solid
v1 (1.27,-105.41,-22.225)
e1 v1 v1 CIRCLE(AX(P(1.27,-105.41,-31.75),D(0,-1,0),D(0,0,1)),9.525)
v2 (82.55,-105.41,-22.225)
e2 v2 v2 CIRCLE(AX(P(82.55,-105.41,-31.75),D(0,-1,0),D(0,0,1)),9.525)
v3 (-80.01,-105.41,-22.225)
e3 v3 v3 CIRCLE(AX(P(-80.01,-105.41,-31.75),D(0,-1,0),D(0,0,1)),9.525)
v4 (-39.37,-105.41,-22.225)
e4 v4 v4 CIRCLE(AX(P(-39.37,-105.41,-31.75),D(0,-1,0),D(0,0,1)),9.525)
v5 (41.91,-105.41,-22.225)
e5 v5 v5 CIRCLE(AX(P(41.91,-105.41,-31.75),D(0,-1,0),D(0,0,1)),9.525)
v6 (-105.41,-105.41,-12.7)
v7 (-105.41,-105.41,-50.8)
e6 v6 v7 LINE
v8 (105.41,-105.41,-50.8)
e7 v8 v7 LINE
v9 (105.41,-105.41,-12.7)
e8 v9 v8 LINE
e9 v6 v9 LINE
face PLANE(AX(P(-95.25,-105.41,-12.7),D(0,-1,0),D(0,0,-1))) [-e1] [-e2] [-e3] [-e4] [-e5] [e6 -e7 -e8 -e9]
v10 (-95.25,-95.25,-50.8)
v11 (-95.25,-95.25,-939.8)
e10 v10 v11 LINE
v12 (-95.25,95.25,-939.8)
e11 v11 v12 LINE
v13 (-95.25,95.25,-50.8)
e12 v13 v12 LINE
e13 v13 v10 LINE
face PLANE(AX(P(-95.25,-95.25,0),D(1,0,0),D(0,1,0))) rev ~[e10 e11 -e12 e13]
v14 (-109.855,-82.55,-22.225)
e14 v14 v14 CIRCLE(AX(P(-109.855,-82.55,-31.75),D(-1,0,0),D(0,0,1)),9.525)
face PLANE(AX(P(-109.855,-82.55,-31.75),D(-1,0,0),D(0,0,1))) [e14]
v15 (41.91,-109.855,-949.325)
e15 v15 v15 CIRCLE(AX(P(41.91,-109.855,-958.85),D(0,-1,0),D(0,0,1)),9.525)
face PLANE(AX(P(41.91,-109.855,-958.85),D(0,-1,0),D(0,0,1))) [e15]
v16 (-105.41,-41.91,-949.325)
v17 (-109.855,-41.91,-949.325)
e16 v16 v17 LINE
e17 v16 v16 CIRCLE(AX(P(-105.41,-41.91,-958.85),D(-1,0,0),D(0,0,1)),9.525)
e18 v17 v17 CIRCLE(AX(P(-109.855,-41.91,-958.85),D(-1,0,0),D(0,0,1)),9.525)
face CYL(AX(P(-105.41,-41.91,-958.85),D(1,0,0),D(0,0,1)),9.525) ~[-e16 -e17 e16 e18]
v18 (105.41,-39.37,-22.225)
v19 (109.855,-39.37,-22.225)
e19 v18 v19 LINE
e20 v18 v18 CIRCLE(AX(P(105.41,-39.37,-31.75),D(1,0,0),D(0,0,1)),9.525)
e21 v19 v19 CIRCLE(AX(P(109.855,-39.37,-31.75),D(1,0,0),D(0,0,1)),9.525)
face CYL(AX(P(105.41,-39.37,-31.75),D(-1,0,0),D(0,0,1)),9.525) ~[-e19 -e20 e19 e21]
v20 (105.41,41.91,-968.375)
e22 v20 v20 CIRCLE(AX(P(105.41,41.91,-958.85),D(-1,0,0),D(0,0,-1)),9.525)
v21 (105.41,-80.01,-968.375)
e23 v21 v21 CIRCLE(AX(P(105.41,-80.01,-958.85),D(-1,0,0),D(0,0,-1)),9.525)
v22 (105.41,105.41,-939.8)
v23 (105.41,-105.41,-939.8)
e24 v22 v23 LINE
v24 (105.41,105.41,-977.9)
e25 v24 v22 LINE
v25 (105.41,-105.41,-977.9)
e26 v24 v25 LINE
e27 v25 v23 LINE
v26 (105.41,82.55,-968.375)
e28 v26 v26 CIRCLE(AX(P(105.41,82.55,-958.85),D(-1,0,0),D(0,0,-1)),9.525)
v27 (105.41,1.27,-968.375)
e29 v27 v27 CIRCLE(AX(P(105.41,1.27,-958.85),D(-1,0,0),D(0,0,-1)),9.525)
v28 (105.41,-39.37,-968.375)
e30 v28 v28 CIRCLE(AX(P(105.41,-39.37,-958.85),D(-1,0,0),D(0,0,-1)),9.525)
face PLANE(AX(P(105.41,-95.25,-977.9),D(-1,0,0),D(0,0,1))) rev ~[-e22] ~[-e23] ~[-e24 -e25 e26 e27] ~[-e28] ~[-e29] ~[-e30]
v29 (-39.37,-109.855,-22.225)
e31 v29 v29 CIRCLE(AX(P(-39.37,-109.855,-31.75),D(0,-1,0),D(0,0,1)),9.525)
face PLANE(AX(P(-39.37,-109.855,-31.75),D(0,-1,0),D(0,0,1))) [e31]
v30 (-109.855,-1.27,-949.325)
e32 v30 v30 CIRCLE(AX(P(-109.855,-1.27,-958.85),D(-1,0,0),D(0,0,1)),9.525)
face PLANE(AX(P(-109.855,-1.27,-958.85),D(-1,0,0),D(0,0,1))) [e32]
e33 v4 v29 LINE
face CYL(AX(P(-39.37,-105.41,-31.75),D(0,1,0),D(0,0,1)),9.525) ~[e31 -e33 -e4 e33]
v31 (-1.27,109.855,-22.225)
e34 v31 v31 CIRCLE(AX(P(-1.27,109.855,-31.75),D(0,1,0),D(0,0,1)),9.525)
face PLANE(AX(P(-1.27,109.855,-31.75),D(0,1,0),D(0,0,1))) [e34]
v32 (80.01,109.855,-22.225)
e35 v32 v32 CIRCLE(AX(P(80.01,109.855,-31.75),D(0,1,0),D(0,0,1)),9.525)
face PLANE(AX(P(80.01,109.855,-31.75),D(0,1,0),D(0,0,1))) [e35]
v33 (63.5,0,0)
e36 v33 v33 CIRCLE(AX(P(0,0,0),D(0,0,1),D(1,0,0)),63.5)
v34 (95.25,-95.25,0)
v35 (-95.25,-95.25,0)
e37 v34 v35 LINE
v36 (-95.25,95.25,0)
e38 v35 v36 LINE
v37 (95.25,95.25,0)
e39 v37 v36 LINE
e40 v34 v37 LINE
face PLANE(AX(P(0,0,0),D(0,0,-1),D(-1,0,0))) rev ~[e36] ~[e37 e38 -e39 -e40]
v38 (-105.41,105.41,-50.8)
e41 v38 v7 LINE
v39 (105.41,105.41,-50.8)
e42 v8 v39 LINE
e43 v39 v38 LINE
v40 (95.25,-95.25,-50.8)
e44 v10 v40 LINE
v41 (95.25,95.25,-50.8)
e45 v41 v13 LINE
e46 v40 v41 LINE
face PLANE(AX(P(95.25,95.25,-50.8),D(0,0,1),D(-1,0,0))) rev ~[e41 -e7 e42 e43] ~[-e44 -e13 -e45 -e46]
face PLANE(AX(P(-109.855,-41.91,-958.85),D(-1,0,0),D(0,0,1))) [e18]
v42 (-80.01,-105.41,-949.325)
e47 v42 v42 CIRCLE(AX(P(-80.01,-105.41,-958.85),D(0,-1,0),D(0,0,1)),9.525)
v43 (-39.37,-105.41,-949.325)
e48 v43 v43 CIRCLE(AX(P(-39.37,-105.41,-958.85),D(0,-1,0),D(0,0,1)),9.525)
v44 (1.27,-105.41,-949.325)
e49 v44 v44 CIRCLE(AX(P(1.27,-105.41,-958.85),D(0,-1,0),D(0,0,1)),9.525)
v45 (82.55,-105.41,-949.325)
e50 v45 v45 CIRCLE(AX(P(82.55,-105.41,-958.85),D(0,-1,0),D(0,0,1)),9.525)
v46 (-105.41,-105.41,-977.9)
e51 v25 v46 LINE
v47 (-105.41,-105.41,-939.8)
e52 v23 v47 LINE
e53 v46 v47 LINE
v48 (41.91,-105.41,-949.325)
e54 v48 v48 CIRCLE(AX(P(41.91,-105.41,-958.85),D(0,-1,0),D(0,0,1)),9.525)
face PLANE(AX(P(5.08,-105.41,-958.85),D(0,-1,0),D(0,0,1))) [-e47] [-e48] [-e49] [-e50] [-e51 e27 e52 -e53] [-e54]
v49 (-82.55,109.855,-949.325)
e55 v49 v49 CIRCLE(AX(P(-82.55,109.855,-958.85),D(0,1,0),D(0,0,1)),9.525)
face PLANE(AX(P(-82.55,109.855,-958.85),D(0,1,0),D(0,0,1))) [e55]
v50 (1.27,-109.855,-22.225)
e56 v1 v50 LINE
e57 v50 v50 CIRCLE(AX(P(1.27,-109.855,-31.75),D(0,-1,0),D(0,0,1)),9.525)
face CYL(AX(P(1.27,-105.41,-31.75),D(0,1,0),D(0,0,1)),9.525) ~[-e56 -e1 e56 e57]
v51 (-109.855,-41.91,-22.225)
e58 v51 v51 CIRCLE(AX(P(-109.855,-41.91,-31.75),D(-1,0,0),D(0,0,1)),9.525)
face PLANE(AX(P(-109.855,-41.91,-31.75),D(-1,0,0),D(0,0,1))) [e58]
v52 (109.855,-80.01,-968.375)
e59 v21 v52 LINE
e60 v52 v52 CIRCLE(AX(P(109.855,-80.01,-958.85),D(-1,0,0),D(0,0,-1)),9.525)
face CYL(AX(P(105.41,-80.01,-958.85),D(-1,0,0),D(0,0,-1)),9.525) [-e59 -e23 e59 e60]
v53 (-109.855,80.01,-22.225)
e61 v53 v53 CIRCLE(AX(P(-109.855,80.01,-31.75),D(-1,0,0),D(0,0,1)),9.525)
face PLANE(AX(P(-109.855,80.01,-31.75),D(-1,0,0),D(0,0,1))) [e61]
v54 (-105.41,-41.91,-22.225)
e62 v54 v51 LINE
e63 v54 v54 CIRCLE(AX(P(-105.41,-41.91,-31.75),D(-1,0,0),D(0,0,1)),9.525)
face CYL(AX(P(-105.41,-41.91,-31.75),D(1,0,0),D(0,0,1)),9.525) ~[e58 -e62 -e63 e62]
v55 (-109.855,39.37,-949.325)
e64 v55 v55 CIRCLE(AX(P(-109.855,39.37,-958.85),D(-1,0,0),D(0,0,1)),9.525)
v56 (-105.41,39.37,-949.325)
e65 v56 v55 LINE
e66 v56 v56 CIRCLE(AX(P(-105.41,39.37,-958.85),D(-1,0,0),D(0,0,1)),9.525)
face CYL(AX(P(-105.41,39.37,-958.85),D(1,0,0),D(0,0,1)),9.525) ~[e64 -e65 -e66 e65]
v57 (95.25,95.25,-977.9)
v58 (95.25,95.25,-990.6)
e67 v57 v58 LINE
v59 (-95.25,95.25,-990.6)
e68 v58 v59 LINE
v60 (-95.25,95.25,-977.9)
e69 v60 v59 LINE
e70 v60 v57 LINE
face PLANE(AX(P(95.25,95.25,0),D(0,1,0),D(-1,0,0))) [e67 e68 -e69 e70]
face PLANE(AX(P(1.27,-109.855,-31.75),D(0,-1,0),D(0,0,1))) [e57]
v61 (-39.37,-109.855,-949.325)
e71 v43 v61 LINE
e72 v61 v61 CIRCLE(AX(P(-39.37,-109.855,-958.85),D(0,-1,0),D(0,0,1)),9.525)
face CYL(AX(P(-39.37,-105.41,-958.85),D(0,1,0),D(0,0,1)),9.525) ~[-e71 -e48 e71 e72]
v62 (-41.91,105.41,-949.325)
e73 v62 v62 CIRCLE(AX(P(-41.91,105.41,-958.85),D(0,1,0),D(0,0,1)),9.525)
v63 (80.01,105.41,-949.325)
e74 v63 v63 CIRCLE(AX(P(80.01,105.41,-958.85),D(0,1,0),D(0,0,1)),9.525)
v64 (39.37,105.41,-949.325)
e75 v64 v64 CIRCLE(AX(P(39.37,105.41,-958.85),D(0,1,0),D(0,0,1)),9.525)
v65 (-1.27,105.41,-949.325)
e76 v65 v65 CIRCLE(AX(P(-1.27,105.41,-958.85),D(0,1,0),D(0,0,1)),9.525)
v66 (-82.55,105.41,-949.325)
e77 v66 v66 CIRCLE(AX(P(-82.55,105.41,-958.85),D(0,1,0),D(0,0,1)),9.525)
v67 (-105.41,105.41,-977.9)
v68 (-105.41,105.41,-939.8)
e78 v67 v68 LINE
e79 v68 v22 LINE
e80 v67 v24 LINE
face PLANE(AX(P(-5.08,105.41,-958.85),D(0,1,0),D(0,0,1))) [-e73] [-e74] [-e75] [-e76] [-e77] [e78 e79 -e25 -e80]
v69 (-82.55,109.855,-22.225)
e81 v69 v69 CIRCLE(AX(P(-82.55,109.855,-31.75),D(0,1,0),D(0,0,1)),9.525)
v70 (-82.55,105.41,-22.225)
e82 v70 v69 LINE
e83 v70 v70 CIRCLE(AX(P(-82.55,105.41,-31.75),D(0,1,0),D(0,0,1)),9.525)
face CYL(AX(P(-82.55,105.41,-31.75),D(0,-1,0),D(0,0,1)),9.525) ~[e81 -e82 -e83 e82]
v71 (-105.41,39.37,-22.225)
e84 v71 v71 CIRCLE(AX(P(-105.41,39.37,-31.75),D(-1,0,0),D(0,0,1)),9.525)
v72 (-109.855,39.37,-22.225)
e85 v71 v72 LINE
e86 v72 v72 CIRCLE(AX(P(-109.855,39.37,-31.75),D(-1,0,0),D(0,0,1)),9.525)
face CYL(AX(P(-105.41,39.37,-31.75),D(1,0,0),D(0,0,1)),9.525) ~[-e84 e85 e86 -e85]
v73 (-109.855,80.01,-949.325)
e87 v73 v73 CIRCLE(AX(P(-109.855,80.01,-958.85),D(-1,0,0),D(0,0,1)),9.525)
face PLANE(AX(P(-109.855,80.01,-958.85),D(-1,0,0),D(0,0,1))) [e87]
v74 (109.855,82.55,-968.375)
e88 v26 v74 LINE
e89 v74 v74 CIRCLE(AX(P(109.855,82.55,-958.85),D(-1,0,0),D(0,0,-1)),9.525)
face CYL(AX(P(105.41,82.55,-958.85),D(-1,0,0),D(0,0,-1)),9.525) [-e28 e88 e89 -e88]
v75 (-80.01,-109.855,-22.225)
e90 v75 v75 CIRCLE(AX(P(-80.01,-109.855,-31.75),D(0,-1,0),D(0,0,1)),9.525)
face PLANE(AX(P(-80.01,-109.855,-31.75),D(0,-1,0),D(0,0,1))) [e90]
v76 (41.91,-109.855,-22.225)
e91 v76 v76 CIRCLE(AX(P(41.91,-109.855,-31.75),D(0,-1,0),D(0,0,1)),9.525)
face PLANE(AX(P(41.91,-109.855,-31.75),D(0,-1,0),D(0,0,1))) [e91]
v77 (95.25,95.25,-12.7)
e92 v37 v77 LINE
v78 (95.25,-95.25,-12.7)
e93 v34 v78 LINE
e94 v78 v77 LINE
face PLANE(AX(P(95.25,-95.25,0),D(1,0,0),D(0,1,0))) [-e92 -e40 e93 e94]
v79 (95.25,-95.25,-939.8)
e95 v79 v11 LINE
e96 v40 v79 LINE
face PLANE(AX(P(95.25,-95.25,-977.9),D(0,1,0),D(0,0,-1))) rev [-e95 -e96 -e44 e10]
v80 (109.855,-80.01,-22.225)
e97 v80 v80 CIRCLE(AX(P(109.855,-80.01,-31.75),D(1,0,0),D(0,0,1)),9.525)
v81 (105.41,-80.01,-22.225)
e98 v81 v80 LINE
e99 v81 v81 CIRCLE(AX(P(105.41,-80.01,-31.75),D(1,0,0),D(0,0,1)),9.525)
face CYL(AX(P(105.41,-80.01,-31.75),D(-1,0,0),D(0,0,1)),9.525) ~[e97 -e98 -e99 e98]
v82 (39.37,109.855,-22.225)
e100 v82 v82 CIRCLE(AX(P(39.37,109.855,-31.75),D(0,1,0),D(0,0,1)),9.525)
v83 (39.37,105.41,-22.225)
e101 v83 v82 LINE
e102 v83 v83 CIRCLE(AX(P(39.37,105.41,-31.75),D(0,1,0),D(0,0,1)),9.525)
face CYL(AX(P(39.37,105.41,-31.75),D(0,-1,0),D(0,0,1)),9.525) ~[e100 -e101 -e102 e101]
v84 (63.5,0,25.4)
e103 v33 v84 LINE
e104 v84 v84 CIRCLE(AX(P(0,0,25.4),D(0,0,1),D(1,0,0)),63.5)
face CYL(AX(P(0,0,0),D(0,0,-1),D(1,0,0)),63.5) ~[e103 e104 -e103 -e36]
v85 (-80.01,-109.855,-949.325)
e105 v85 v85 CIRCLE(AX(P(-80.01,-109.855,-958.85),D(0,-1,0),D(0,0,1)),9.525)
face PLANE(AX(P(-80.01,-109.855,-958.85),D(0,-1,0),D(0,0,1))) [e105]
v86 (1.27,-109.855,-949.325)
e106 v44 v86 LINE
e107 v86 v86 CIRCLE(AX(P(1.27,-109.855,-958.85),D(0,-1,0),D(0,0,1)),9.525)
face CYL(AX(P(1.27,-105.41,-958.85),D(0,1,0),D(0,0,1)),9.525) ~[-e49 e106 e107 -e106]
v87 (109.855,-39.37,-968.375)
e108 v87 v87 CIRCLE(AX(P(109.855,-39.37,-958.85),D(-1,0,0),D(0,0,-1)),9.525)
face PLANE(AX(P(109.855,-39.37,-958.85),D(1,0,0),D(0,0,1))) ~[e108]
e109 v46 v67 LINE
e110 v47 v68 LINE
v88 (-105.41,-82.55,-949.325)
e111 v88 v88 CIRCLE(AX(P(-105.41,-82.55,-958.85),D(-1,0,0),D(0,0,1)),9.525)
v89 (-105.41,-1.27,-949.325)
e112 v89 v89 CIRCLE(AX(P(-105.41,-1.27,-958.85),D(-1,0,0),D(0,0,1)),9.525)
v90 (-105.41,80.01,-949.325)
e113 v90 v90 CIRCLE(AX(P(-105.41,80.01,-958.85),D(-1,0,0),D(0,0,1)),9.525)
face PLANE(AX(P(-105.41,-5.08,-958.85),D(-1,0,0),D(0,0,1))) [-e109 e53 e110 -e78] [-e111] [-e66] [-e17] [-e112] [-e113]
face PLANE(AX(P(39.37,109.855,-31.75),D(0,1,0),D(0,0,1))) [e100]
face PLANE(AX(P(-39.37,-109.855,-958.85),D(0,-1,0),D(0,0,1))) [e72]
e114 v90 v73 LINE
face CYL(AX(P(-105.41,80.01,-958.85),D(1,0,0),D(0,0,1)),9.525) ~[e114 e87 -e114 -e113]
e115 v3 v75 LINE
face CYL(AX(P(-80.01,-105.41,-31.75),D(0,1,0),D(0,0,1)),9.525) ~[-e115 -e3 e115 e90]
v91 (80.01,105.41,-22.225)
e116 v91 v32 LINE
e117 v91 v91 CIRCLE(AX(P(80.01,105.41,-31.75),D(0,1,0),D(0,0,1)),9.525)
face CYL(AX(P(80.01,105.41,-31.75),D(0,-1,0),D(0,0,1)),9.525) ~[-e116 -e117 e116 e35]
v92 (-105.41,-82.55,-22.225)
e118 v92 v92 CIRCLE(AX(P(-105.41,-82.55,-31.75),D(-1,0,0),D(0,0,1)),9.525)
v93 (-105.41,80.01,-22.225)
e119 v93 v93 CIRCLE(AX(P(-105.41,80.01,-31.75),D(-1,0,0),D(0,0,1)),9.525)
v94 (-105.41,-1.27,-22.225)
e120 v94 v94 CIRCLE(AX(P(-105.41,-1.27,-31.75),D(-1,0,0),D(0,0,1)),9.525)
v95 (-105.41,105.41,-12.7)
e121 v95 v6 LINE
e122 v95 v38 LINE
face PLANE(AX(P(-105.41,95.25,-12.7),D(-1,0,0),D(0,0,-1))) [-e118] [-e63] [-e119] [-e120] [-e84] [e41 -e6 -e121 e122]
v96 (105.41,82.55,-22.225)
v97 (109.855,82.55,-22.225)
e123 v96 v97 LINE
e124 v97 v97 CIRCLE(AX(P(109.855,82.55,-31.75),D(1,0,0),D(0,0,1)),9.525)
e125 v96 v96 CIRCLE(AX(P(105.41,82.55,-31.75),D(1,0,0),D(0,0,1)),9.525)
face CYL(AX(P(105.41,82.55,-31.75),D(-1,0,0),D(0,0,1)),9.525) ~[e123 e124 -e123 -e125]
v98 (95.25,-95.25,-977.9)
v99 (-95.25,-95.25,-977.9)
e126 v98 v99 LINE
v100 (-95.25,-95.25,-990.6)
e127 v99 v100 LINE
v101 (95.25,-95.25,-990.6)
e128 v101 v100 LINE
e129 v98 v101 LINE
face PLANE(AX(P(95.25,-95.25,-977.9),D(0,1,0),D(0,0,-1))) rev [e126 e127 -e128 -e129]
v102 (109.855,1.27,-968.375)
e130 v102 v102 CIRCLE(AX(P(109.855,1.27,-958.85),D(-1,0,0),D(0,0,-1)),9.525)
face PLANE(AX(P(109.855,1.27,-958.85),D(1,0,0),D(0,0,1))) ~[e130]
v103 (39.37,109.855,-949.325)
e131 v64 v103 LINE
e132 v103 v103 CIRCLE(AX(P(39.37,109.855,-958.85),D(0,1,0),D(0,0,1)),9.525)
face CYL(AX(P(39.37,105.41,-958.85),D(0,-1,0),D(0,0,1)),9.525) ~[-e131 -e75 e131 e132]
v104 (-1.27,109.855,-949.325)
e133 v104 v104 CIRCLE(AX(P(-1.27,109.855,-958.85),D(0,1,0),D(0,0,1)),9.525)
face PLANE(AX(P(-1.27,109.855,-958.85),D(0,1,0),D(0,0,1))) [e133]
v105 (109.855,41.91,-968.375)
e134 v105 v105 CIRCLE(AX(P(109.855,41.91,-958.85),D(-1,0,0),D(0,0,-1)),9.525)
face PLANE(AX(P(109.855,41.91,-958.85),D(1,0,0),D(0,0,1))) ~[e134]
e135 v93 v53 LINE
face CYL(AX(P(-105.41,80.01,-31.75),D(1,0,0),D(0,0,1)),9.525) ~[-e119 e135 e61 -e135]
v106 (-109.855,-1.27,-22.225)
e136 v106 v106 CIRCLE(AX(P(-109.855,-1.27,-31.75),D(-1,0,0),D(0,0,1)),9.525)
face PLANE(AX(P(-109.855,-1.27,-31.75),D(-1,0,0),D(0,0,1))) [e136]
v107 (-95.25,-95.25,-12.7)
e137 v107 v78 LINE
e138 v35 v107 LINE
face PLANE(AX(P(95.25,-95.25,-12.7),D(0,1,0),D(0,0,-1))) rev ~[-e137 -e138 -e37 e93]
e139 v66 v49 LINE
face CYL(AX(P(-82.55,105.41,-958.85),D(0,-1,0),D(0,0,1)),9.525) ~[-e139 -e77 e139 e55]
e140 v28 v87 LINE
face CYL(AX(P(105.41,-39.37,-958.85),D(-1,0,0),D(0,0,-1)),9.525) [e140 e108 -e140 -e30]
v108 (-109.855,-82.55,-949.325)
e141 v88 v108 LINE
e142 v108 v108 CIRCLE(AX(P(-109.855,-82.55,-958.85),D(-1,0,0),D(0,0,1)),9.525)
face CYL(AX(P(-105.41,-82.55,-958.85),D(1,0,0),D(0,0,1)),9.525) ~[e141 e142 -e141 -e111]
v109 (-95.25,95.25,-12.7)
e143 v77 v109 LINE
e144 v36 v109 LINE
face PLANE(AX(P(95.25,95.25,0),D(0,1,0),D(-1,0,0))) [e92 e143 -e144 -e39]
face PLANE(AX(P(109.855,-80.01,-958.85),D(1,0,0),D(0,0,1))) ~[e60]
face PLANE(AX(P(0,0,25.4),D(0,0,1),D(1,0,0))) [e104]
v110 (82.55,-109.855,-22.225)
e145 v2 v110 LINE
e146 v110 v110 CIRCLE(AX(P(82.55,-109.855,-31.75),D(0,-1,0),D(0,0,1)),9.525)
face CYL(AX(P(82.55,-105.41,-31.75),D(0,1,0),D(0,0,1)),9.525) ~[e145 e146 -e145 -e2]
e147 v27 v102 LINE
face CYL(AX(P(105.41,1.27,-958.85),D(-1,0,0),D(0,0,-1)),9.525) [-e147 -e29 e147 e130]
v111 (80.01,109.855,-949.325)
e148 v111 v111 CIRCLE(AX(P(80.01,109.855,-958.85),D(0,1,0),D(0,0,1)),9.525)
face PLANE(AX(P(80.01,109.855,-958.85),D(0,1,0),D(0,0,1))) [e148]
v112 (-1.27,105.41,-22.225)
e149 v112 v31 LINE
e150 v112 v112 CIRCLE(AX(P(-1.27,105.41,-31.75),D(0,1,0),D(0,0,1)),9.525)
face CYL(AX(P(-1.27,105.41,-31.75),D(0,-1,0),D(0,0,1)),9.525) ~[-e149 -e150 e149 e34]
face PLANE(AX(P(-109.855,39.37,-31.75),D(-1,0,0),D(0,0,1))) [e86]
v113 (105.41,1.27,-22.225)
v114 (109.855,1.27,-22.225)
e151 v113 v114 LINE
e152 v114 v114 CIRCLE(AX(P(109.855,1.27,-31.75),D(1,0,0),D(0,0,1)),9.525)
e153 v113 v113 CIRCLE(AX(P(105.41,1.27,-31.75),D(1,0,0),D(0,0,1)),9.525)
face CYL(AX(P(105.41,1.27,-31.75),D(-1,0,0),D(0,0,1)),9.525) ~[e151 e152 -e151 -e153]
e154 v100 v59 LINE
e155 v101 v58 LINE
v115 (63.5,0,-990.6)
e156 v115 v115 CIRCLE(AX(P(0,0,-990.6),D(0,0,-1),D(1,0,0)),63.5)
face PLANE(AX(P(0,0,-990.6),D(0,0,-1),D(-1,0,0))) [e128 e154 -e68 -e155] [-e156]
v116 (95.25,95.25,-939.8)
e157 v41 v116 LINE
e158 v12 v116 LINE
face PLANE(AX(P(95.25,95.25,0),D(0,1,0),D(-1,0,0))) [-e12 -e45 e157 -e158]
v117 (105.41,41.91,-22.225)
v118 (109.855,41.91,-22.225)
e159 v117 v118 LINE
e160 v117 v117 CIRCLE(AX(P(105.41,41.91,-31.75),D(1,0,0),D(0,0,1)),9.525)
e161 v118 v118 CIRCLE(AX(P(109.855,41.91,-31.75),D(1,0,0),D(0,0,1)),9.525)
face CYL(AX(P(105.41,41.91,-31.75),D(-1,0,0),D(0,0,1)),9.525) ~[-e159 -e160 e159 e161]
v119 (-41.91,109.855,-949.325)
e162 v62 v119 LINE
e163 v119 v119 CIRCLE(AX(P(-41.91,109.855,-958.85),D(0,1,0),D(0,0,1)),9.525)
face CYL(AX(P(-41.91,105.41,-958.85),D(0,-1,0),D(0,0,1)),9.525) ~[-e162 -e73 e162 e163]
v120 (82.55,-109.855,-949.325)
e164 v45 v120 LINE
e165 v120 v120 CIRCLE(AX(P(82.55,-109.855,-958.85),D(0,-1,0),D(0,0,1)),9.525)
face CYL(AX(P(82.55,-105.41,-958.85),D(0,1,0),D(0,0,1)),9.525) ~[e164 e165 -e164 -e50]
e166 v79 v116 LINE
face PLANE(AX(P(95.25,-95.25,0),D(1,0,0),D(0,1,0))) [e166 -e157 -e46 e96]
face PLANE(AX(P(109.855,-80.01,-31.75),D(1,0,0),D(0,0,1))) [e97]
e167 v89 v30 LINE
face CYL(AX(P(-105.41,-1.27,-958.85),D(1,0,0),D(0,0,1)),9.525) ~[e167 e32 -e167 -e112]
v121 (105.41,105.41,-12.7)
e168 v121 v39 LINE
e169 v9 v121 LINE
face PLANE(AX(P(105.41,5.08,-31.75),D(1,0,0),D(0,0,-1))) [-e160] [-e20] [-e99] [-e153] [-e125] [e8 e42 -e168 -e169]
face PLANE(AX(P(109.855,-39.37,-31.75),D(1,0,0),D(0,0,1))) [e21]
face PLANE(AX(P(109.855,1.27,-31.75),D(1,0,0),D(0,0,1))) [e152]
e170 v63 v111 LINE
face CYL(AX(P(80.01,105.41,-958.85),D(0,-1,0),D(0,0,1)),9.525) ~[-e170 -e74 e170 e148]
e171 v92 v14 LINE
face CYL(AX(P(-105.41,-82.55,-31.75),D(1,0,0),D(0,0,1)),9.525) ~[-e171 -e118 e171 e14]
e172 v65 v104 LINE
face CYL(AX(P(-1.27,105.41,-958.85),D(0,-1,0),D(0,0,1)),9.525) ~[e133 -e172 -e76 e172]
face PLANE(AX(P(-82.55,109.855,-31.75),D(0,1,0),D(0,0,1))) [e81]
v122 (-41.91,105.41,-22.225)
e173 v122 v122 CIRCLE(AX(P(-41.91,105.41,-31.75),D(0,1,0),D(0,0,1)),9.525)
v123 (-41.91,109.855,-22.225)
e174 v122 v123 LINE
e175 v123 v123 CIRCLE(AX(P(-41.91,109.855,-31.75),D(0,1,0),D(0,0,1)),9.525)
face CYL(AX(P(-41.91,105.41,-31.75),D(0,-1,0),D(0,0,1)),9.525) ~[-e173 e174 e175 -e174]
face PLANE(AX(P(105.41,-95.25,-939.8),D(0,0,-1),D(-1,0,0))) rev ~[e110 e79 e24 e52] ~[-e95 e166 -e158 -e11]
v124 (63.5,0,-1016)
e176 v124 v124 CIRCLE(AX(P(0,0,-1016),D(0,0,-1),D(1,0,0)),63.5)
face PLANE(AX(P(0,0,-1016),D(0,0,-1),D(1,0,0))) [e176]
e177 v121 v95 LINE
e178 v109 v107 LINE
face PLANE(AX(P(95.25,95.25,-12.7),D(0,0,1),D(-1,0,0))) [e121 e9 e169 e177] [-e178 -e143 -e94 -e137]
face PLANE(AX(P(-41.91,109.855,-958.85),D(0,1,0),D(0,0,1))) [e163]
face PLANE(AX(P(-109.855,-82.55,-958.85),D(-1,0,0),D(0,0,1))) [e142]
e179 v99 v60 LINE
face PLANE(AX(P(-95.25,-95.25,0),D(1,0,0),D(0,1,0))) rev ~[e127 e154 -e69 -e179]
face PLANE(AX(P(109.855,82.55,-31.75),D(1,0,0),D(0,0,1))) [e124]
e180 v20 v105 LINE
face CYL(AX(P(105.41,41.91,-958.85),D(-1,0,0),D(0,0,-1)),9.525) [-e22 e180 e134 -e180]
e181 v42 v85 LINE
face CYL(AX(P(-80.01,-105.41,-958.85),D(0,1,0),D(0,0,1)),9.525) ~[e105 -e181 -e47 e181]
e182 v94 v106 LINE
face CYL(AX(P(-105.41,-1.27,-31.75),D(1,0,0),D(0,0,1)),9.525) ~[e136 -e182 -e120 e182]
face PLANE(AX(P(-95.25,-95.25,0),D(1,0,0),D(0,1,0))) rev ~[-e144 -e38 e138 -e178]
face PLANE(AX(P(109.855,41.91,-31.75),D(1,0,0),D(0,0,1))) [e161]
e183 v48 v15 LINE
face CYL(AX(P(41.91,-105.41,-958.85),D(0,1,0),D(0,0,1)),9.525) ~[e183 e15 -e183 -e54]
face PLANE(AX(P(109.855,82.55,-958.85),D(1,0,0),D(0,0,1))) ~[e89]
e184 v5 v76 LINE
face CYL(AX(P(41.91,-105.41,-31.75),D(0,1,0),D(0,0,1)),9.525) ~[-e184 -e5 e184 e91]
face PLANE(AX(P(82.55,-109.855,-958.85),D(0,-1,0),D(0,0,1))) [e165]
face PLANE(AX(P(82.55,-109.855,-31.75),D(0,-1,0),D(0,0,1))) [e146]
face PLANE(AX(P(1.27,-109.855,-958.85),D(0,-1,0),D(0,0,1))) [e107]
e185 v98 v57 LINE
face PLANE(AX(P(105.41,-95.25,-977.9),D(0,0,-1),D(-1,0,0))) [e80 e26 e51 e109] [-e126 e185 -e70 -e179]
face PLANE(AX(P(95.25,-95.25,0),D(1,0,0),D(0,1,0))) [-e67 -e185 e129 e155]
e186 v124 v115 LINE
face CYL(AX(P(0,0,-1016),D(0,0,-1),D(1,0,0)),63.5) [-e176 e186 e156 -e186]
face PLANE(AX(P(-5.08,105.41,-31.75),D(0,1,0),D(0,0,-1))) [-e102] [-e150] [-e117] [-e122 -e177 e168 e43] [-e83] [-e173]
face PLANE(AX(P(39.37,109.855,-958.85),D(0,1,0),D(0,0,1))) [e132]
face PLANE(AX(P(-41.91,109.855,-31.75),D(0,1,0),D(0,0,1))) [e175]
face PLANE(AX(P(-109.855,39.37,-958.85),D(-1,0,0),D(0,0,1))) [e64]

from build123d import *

# Parameters (mm, degrees)
SKETCH1_R               = 63.5
BOSS_EXTRUDE1_DEPTH     = 25.4
SKETCH2_W               = 190.5
SKETCH2_H               = 190.5
BOSS_EXTRUDE2_DEPTH     = 990.6
BOSS_EXTRUDE3_START     = 25.4
SKETCH3_R               = 63.5
BOSS_EXTRUDE3_DEPTH     = 25.4
SKETCH4_W               = 38.1
SKETCH4_H               = 200.66
BOSS_EXTRUDE4_DEPTH     = 10.16
SKETCH5_R               = 9.525
BOSS_EXTRUDE5_DEPTH     = 4.445
CIRPATTERN3_COUNT       = 4
MIRROR1_COPY_1_SKETCH_W = 38.1
MIRROR1_COPY_1_SKETCH_H = 200.66
MIRROR1_COPY_1_DEPTH    = 10.16
MIRROR1_COPY_2_SKETCH_W = 38.1
MIRROR1_COPY_2_SKETCH_H = 200.66
MIRROR1_COPY_2_DEPTH    = 10.16
MIRROR1_COPY_3_SKETCH_W = 38.1
MIRROR1_COPY_3_SKETCH_H = 200.66
MIRROR1_COPY_3_DEPTH    = 10.16
MIRROR1_COPY_4_SKETCH_R = 9.525
MIRROR1_COPY_4_DEPTH    = 4.445
MIRROR1_COPY_5_SKETCH_R = 9.525
MIRROR1_COPY_5_DEPTH    = 4.445
MIRROR1_COPY_6_SKETCH_R = 9.525
MIRROR1_COPY_6_DEPTH    = 4.445


with BuildPart() as part:
    # Sketch1 → Boss-Extrude1 (new body)
    with BuildSketch(Plane.XY):
        Circle(SKETCH1_R)
    extrude(amount=BOSS_EXTRUDE1_DEPTH)

    # Sketch2 → Boss-Extrude2 (add)
    with BuildSketch(Plane(origin=(0, 0, 0), x_dir=(-1, 0, 0), z_dir=(0, 0, -1))):
        Rectangle(SKETCH2_W, SKETCH2_H)
    extrude(amount=BOSS_EXTRUDE2_DEPTH)

    # Sketch3 → Boss-Extrude3 (add)
    with BuildSketch(Plane(origin=(0, 0, -990.6), x_dir=(-1, 0, 0), z_dir=(0, 0, -1)).offset(BOSS_EXTRUDE3_START)):
        with Locations(Location((0, 0, 0), (0, 0, 180))):
            Circle(SKETCH3_R)
    extrude(amount=-BOSS_EXTRUDE3_DEPTH)

    # Sketch4 → Boss-Extrude4 (add)
    with BuildSketch(Plane(origin=(95.25, 0, 0), x_dir=(0, 0, -1), z_dir=(1, 0, 0))):
        with Locations((31.75, 5.08)):
            Rectangle(SKETCH4_W, SKETCH4_H)
    boss_extrude4 = extrude(amount=BOSS_EXTRUDE4_DEPTH)

    # Sketch5 → Boss-Extrude5 (add)
    with BuildSketch(Plane(origin=(105.41, 0, 0), x_dir=(0, 0, -1), z_dir=(1, 0, 0))):
        with Locations(Location((31.75, 82.55, 0), (0, 0, 180))):
            Circle(SKETCH5_R)
        with Locations(Location((31.75, 41.91, 0), (0, 0, 180))):
            Circle(SKETCH5_R)
        with Locations(Location((31.75, 1.27, 0), (0, 0, 180))):
            Circle(SKETCH5_R)
        with Locations(Location((31.75, -39.37, 0), (0, 0, 180))):
            Circle(SKETCH5_R)
        with Locations(Location((31.75, -80.01, 0), (0, 0, 180))):
            Circle(SKETCH5_R)
    boss_extrude5 = extrude(amount=BOSS_EXTRUDE5_DEPTH)

    # CirPattern3: Boss-Extrude4, Boss-Extrude5 ×4 about axis
    cirpattern3_axis = Axis((0, 0, 0), (0, 0, 1))
    add([boss_extrude4.rotate(cirpattern3_axis, i * 360 / CIRPATTERN3_COUNT) for i in range(1, CIRPATTERN3_COUNT)])
    add([boss_extrude5.rotate(cirpattern3_axis, i * 360 / CIRPATTERN3_COUNT) for i in range(1, CIRPATTERN3_COUNT)])

    # Mirror1: Boss-Extrude4, Boss-Extrude5 across plane
    add(boss_extrude4.mirror(Plane.XY.offset(-495.3)))
    add(boss_extrude5.mirror(Plane.XY.offset(-495.3)))

    # Mirror1 copy 1 sketch → Mirror1 copy 1 (add)
    with BuildSketch(Plane(origin=(0, 95.25, -990.6), x_dir=(0, 0, 1), z_dir=(0, 1, 0))):
        with Locations((31.75, -5.08)):
            Rectangle(MIRROR1_COPY_1_SKETCH_W, MIRROR1_COPY_1_SKETCH_H)
    extrude(amount=MIRROR1_COPY_1_DEPTH)

    # Mirror1 copy 2 sketch → Mirror1 copy 2 (add)
    with BuildSketch(Plane(origin=(-95.25, 0, -990.6), x_dir=(0, 0, 1), z_dir=(-1, 0, 0))):
        with Locations((31.75, -5.08)):
            Rectangle(MIRROR1_COPY_2_SKETCH_W, MIRROR1_COPY_2_SKETCH_H)
    extrude(amount=MIRROR1_COPY_2_DEPTH)

    # Mirror1 copy 3 sketch → Mirror1 copy 3 (add)
    with BuildSketch(Plane(origin=(0, -95.25, -990.6), x_dir=(0, 0, 1), z_dir=(0, -1, 0))):
        with Locations((31.75, -5.08)):
            Rectangle(MIRROR1_COPY_3_SKETCH_W, MIRROR1_COPY_3_SKETCH_H)
    extrude(amount=MIRROR1_COPY_3_DEPTH)

    # Mirror1 copy 4 sketch → Mirror1 copy 4 (add)
    with BuildSketch(Plane(origin=(0, 105.41, -990.6), x_dir=(0, 0, 1), z_dir=(0, 1, 0))):
        with Locations((31.75, -82.55)):
            Circle(MIRROR1_COPY_4_SKETCH_R)
        with Locations((31.75, -41.91)):
            Circle(MIRROR1_COPY_4_SKETCH_R)
        with Locations((31.75, -1.27)):
            Circle(MIRROR1_COPY_4_SKETCH_R)
        with Locations((31.75, 39.37)):
            Circle(MIRROR1_COPY_4_SKETCH_R)
        with Locations((31.75, 80.01)):
            Circle(MIRROR1_COPY_4_SKETCH_R)
    extrude(amount=MIRROR1_COPY_4_DEPTH)

    # Mirror1 copy 5 sketch → Mirror1 copy 5 (add)
    with BuildSketch(Plane(origin=(-105.41, 0, -990.6), x_dir=(0, 0, 1), z_dir=(-1, 0, 0))):
        with Locations((31.75, -82.55)):
            Circle(MIRROR1_COPY_5_SKETCH_R)
        with Locations((31.75, -41.91)):
            Circle(MIRROR1_COPY_5_SKETCH_R)
        with Locations((31.75, -1.27)):
            Circle(MIRROR1_COPY_5_SKETCH_R)
        with Locations((31.75, 39.37)):
            Circle(MIRROR1_COPY_5_SKETCH_R)
        with Locations((31.75, 80.01)):
            Circle(MIRROR1_COPY_5_SKETCH_R)
    extrude(amount=MIRROR1_COPY_5_DEPTH)

    # Mirror1 copy 6 sketch → Mirror1 copy 6 (add)
    with BuildSketch(Plane(origin=(0, -105.41, -990.6), x_dir=(0, 0, 1), z_dir=(0, -1, 0))):
        with Locations((31.75, -82.55)):
            Circle(MIRROR1_COPY_6_SKETCH_R)
        with Locations((31.75, -41.91)):
            Circle(MIRROR1_COPY_6_SKETCH_R)
        with Locations((31.75, -1.27)):
            Circle(MIRROR1_COPY_6_SKETCH_R)
        with Locations((31.75, 39.37)):
            Circle(MIRROR1_COPY_6_SKETCH_R)
        with Locations((31.75, 80.01)):
            Circle(MIRROR1_COPY_6_SKETCH_R)
    extrude(amount=MIRROR1_COPY_6_DEPTH)


solid = part.part
